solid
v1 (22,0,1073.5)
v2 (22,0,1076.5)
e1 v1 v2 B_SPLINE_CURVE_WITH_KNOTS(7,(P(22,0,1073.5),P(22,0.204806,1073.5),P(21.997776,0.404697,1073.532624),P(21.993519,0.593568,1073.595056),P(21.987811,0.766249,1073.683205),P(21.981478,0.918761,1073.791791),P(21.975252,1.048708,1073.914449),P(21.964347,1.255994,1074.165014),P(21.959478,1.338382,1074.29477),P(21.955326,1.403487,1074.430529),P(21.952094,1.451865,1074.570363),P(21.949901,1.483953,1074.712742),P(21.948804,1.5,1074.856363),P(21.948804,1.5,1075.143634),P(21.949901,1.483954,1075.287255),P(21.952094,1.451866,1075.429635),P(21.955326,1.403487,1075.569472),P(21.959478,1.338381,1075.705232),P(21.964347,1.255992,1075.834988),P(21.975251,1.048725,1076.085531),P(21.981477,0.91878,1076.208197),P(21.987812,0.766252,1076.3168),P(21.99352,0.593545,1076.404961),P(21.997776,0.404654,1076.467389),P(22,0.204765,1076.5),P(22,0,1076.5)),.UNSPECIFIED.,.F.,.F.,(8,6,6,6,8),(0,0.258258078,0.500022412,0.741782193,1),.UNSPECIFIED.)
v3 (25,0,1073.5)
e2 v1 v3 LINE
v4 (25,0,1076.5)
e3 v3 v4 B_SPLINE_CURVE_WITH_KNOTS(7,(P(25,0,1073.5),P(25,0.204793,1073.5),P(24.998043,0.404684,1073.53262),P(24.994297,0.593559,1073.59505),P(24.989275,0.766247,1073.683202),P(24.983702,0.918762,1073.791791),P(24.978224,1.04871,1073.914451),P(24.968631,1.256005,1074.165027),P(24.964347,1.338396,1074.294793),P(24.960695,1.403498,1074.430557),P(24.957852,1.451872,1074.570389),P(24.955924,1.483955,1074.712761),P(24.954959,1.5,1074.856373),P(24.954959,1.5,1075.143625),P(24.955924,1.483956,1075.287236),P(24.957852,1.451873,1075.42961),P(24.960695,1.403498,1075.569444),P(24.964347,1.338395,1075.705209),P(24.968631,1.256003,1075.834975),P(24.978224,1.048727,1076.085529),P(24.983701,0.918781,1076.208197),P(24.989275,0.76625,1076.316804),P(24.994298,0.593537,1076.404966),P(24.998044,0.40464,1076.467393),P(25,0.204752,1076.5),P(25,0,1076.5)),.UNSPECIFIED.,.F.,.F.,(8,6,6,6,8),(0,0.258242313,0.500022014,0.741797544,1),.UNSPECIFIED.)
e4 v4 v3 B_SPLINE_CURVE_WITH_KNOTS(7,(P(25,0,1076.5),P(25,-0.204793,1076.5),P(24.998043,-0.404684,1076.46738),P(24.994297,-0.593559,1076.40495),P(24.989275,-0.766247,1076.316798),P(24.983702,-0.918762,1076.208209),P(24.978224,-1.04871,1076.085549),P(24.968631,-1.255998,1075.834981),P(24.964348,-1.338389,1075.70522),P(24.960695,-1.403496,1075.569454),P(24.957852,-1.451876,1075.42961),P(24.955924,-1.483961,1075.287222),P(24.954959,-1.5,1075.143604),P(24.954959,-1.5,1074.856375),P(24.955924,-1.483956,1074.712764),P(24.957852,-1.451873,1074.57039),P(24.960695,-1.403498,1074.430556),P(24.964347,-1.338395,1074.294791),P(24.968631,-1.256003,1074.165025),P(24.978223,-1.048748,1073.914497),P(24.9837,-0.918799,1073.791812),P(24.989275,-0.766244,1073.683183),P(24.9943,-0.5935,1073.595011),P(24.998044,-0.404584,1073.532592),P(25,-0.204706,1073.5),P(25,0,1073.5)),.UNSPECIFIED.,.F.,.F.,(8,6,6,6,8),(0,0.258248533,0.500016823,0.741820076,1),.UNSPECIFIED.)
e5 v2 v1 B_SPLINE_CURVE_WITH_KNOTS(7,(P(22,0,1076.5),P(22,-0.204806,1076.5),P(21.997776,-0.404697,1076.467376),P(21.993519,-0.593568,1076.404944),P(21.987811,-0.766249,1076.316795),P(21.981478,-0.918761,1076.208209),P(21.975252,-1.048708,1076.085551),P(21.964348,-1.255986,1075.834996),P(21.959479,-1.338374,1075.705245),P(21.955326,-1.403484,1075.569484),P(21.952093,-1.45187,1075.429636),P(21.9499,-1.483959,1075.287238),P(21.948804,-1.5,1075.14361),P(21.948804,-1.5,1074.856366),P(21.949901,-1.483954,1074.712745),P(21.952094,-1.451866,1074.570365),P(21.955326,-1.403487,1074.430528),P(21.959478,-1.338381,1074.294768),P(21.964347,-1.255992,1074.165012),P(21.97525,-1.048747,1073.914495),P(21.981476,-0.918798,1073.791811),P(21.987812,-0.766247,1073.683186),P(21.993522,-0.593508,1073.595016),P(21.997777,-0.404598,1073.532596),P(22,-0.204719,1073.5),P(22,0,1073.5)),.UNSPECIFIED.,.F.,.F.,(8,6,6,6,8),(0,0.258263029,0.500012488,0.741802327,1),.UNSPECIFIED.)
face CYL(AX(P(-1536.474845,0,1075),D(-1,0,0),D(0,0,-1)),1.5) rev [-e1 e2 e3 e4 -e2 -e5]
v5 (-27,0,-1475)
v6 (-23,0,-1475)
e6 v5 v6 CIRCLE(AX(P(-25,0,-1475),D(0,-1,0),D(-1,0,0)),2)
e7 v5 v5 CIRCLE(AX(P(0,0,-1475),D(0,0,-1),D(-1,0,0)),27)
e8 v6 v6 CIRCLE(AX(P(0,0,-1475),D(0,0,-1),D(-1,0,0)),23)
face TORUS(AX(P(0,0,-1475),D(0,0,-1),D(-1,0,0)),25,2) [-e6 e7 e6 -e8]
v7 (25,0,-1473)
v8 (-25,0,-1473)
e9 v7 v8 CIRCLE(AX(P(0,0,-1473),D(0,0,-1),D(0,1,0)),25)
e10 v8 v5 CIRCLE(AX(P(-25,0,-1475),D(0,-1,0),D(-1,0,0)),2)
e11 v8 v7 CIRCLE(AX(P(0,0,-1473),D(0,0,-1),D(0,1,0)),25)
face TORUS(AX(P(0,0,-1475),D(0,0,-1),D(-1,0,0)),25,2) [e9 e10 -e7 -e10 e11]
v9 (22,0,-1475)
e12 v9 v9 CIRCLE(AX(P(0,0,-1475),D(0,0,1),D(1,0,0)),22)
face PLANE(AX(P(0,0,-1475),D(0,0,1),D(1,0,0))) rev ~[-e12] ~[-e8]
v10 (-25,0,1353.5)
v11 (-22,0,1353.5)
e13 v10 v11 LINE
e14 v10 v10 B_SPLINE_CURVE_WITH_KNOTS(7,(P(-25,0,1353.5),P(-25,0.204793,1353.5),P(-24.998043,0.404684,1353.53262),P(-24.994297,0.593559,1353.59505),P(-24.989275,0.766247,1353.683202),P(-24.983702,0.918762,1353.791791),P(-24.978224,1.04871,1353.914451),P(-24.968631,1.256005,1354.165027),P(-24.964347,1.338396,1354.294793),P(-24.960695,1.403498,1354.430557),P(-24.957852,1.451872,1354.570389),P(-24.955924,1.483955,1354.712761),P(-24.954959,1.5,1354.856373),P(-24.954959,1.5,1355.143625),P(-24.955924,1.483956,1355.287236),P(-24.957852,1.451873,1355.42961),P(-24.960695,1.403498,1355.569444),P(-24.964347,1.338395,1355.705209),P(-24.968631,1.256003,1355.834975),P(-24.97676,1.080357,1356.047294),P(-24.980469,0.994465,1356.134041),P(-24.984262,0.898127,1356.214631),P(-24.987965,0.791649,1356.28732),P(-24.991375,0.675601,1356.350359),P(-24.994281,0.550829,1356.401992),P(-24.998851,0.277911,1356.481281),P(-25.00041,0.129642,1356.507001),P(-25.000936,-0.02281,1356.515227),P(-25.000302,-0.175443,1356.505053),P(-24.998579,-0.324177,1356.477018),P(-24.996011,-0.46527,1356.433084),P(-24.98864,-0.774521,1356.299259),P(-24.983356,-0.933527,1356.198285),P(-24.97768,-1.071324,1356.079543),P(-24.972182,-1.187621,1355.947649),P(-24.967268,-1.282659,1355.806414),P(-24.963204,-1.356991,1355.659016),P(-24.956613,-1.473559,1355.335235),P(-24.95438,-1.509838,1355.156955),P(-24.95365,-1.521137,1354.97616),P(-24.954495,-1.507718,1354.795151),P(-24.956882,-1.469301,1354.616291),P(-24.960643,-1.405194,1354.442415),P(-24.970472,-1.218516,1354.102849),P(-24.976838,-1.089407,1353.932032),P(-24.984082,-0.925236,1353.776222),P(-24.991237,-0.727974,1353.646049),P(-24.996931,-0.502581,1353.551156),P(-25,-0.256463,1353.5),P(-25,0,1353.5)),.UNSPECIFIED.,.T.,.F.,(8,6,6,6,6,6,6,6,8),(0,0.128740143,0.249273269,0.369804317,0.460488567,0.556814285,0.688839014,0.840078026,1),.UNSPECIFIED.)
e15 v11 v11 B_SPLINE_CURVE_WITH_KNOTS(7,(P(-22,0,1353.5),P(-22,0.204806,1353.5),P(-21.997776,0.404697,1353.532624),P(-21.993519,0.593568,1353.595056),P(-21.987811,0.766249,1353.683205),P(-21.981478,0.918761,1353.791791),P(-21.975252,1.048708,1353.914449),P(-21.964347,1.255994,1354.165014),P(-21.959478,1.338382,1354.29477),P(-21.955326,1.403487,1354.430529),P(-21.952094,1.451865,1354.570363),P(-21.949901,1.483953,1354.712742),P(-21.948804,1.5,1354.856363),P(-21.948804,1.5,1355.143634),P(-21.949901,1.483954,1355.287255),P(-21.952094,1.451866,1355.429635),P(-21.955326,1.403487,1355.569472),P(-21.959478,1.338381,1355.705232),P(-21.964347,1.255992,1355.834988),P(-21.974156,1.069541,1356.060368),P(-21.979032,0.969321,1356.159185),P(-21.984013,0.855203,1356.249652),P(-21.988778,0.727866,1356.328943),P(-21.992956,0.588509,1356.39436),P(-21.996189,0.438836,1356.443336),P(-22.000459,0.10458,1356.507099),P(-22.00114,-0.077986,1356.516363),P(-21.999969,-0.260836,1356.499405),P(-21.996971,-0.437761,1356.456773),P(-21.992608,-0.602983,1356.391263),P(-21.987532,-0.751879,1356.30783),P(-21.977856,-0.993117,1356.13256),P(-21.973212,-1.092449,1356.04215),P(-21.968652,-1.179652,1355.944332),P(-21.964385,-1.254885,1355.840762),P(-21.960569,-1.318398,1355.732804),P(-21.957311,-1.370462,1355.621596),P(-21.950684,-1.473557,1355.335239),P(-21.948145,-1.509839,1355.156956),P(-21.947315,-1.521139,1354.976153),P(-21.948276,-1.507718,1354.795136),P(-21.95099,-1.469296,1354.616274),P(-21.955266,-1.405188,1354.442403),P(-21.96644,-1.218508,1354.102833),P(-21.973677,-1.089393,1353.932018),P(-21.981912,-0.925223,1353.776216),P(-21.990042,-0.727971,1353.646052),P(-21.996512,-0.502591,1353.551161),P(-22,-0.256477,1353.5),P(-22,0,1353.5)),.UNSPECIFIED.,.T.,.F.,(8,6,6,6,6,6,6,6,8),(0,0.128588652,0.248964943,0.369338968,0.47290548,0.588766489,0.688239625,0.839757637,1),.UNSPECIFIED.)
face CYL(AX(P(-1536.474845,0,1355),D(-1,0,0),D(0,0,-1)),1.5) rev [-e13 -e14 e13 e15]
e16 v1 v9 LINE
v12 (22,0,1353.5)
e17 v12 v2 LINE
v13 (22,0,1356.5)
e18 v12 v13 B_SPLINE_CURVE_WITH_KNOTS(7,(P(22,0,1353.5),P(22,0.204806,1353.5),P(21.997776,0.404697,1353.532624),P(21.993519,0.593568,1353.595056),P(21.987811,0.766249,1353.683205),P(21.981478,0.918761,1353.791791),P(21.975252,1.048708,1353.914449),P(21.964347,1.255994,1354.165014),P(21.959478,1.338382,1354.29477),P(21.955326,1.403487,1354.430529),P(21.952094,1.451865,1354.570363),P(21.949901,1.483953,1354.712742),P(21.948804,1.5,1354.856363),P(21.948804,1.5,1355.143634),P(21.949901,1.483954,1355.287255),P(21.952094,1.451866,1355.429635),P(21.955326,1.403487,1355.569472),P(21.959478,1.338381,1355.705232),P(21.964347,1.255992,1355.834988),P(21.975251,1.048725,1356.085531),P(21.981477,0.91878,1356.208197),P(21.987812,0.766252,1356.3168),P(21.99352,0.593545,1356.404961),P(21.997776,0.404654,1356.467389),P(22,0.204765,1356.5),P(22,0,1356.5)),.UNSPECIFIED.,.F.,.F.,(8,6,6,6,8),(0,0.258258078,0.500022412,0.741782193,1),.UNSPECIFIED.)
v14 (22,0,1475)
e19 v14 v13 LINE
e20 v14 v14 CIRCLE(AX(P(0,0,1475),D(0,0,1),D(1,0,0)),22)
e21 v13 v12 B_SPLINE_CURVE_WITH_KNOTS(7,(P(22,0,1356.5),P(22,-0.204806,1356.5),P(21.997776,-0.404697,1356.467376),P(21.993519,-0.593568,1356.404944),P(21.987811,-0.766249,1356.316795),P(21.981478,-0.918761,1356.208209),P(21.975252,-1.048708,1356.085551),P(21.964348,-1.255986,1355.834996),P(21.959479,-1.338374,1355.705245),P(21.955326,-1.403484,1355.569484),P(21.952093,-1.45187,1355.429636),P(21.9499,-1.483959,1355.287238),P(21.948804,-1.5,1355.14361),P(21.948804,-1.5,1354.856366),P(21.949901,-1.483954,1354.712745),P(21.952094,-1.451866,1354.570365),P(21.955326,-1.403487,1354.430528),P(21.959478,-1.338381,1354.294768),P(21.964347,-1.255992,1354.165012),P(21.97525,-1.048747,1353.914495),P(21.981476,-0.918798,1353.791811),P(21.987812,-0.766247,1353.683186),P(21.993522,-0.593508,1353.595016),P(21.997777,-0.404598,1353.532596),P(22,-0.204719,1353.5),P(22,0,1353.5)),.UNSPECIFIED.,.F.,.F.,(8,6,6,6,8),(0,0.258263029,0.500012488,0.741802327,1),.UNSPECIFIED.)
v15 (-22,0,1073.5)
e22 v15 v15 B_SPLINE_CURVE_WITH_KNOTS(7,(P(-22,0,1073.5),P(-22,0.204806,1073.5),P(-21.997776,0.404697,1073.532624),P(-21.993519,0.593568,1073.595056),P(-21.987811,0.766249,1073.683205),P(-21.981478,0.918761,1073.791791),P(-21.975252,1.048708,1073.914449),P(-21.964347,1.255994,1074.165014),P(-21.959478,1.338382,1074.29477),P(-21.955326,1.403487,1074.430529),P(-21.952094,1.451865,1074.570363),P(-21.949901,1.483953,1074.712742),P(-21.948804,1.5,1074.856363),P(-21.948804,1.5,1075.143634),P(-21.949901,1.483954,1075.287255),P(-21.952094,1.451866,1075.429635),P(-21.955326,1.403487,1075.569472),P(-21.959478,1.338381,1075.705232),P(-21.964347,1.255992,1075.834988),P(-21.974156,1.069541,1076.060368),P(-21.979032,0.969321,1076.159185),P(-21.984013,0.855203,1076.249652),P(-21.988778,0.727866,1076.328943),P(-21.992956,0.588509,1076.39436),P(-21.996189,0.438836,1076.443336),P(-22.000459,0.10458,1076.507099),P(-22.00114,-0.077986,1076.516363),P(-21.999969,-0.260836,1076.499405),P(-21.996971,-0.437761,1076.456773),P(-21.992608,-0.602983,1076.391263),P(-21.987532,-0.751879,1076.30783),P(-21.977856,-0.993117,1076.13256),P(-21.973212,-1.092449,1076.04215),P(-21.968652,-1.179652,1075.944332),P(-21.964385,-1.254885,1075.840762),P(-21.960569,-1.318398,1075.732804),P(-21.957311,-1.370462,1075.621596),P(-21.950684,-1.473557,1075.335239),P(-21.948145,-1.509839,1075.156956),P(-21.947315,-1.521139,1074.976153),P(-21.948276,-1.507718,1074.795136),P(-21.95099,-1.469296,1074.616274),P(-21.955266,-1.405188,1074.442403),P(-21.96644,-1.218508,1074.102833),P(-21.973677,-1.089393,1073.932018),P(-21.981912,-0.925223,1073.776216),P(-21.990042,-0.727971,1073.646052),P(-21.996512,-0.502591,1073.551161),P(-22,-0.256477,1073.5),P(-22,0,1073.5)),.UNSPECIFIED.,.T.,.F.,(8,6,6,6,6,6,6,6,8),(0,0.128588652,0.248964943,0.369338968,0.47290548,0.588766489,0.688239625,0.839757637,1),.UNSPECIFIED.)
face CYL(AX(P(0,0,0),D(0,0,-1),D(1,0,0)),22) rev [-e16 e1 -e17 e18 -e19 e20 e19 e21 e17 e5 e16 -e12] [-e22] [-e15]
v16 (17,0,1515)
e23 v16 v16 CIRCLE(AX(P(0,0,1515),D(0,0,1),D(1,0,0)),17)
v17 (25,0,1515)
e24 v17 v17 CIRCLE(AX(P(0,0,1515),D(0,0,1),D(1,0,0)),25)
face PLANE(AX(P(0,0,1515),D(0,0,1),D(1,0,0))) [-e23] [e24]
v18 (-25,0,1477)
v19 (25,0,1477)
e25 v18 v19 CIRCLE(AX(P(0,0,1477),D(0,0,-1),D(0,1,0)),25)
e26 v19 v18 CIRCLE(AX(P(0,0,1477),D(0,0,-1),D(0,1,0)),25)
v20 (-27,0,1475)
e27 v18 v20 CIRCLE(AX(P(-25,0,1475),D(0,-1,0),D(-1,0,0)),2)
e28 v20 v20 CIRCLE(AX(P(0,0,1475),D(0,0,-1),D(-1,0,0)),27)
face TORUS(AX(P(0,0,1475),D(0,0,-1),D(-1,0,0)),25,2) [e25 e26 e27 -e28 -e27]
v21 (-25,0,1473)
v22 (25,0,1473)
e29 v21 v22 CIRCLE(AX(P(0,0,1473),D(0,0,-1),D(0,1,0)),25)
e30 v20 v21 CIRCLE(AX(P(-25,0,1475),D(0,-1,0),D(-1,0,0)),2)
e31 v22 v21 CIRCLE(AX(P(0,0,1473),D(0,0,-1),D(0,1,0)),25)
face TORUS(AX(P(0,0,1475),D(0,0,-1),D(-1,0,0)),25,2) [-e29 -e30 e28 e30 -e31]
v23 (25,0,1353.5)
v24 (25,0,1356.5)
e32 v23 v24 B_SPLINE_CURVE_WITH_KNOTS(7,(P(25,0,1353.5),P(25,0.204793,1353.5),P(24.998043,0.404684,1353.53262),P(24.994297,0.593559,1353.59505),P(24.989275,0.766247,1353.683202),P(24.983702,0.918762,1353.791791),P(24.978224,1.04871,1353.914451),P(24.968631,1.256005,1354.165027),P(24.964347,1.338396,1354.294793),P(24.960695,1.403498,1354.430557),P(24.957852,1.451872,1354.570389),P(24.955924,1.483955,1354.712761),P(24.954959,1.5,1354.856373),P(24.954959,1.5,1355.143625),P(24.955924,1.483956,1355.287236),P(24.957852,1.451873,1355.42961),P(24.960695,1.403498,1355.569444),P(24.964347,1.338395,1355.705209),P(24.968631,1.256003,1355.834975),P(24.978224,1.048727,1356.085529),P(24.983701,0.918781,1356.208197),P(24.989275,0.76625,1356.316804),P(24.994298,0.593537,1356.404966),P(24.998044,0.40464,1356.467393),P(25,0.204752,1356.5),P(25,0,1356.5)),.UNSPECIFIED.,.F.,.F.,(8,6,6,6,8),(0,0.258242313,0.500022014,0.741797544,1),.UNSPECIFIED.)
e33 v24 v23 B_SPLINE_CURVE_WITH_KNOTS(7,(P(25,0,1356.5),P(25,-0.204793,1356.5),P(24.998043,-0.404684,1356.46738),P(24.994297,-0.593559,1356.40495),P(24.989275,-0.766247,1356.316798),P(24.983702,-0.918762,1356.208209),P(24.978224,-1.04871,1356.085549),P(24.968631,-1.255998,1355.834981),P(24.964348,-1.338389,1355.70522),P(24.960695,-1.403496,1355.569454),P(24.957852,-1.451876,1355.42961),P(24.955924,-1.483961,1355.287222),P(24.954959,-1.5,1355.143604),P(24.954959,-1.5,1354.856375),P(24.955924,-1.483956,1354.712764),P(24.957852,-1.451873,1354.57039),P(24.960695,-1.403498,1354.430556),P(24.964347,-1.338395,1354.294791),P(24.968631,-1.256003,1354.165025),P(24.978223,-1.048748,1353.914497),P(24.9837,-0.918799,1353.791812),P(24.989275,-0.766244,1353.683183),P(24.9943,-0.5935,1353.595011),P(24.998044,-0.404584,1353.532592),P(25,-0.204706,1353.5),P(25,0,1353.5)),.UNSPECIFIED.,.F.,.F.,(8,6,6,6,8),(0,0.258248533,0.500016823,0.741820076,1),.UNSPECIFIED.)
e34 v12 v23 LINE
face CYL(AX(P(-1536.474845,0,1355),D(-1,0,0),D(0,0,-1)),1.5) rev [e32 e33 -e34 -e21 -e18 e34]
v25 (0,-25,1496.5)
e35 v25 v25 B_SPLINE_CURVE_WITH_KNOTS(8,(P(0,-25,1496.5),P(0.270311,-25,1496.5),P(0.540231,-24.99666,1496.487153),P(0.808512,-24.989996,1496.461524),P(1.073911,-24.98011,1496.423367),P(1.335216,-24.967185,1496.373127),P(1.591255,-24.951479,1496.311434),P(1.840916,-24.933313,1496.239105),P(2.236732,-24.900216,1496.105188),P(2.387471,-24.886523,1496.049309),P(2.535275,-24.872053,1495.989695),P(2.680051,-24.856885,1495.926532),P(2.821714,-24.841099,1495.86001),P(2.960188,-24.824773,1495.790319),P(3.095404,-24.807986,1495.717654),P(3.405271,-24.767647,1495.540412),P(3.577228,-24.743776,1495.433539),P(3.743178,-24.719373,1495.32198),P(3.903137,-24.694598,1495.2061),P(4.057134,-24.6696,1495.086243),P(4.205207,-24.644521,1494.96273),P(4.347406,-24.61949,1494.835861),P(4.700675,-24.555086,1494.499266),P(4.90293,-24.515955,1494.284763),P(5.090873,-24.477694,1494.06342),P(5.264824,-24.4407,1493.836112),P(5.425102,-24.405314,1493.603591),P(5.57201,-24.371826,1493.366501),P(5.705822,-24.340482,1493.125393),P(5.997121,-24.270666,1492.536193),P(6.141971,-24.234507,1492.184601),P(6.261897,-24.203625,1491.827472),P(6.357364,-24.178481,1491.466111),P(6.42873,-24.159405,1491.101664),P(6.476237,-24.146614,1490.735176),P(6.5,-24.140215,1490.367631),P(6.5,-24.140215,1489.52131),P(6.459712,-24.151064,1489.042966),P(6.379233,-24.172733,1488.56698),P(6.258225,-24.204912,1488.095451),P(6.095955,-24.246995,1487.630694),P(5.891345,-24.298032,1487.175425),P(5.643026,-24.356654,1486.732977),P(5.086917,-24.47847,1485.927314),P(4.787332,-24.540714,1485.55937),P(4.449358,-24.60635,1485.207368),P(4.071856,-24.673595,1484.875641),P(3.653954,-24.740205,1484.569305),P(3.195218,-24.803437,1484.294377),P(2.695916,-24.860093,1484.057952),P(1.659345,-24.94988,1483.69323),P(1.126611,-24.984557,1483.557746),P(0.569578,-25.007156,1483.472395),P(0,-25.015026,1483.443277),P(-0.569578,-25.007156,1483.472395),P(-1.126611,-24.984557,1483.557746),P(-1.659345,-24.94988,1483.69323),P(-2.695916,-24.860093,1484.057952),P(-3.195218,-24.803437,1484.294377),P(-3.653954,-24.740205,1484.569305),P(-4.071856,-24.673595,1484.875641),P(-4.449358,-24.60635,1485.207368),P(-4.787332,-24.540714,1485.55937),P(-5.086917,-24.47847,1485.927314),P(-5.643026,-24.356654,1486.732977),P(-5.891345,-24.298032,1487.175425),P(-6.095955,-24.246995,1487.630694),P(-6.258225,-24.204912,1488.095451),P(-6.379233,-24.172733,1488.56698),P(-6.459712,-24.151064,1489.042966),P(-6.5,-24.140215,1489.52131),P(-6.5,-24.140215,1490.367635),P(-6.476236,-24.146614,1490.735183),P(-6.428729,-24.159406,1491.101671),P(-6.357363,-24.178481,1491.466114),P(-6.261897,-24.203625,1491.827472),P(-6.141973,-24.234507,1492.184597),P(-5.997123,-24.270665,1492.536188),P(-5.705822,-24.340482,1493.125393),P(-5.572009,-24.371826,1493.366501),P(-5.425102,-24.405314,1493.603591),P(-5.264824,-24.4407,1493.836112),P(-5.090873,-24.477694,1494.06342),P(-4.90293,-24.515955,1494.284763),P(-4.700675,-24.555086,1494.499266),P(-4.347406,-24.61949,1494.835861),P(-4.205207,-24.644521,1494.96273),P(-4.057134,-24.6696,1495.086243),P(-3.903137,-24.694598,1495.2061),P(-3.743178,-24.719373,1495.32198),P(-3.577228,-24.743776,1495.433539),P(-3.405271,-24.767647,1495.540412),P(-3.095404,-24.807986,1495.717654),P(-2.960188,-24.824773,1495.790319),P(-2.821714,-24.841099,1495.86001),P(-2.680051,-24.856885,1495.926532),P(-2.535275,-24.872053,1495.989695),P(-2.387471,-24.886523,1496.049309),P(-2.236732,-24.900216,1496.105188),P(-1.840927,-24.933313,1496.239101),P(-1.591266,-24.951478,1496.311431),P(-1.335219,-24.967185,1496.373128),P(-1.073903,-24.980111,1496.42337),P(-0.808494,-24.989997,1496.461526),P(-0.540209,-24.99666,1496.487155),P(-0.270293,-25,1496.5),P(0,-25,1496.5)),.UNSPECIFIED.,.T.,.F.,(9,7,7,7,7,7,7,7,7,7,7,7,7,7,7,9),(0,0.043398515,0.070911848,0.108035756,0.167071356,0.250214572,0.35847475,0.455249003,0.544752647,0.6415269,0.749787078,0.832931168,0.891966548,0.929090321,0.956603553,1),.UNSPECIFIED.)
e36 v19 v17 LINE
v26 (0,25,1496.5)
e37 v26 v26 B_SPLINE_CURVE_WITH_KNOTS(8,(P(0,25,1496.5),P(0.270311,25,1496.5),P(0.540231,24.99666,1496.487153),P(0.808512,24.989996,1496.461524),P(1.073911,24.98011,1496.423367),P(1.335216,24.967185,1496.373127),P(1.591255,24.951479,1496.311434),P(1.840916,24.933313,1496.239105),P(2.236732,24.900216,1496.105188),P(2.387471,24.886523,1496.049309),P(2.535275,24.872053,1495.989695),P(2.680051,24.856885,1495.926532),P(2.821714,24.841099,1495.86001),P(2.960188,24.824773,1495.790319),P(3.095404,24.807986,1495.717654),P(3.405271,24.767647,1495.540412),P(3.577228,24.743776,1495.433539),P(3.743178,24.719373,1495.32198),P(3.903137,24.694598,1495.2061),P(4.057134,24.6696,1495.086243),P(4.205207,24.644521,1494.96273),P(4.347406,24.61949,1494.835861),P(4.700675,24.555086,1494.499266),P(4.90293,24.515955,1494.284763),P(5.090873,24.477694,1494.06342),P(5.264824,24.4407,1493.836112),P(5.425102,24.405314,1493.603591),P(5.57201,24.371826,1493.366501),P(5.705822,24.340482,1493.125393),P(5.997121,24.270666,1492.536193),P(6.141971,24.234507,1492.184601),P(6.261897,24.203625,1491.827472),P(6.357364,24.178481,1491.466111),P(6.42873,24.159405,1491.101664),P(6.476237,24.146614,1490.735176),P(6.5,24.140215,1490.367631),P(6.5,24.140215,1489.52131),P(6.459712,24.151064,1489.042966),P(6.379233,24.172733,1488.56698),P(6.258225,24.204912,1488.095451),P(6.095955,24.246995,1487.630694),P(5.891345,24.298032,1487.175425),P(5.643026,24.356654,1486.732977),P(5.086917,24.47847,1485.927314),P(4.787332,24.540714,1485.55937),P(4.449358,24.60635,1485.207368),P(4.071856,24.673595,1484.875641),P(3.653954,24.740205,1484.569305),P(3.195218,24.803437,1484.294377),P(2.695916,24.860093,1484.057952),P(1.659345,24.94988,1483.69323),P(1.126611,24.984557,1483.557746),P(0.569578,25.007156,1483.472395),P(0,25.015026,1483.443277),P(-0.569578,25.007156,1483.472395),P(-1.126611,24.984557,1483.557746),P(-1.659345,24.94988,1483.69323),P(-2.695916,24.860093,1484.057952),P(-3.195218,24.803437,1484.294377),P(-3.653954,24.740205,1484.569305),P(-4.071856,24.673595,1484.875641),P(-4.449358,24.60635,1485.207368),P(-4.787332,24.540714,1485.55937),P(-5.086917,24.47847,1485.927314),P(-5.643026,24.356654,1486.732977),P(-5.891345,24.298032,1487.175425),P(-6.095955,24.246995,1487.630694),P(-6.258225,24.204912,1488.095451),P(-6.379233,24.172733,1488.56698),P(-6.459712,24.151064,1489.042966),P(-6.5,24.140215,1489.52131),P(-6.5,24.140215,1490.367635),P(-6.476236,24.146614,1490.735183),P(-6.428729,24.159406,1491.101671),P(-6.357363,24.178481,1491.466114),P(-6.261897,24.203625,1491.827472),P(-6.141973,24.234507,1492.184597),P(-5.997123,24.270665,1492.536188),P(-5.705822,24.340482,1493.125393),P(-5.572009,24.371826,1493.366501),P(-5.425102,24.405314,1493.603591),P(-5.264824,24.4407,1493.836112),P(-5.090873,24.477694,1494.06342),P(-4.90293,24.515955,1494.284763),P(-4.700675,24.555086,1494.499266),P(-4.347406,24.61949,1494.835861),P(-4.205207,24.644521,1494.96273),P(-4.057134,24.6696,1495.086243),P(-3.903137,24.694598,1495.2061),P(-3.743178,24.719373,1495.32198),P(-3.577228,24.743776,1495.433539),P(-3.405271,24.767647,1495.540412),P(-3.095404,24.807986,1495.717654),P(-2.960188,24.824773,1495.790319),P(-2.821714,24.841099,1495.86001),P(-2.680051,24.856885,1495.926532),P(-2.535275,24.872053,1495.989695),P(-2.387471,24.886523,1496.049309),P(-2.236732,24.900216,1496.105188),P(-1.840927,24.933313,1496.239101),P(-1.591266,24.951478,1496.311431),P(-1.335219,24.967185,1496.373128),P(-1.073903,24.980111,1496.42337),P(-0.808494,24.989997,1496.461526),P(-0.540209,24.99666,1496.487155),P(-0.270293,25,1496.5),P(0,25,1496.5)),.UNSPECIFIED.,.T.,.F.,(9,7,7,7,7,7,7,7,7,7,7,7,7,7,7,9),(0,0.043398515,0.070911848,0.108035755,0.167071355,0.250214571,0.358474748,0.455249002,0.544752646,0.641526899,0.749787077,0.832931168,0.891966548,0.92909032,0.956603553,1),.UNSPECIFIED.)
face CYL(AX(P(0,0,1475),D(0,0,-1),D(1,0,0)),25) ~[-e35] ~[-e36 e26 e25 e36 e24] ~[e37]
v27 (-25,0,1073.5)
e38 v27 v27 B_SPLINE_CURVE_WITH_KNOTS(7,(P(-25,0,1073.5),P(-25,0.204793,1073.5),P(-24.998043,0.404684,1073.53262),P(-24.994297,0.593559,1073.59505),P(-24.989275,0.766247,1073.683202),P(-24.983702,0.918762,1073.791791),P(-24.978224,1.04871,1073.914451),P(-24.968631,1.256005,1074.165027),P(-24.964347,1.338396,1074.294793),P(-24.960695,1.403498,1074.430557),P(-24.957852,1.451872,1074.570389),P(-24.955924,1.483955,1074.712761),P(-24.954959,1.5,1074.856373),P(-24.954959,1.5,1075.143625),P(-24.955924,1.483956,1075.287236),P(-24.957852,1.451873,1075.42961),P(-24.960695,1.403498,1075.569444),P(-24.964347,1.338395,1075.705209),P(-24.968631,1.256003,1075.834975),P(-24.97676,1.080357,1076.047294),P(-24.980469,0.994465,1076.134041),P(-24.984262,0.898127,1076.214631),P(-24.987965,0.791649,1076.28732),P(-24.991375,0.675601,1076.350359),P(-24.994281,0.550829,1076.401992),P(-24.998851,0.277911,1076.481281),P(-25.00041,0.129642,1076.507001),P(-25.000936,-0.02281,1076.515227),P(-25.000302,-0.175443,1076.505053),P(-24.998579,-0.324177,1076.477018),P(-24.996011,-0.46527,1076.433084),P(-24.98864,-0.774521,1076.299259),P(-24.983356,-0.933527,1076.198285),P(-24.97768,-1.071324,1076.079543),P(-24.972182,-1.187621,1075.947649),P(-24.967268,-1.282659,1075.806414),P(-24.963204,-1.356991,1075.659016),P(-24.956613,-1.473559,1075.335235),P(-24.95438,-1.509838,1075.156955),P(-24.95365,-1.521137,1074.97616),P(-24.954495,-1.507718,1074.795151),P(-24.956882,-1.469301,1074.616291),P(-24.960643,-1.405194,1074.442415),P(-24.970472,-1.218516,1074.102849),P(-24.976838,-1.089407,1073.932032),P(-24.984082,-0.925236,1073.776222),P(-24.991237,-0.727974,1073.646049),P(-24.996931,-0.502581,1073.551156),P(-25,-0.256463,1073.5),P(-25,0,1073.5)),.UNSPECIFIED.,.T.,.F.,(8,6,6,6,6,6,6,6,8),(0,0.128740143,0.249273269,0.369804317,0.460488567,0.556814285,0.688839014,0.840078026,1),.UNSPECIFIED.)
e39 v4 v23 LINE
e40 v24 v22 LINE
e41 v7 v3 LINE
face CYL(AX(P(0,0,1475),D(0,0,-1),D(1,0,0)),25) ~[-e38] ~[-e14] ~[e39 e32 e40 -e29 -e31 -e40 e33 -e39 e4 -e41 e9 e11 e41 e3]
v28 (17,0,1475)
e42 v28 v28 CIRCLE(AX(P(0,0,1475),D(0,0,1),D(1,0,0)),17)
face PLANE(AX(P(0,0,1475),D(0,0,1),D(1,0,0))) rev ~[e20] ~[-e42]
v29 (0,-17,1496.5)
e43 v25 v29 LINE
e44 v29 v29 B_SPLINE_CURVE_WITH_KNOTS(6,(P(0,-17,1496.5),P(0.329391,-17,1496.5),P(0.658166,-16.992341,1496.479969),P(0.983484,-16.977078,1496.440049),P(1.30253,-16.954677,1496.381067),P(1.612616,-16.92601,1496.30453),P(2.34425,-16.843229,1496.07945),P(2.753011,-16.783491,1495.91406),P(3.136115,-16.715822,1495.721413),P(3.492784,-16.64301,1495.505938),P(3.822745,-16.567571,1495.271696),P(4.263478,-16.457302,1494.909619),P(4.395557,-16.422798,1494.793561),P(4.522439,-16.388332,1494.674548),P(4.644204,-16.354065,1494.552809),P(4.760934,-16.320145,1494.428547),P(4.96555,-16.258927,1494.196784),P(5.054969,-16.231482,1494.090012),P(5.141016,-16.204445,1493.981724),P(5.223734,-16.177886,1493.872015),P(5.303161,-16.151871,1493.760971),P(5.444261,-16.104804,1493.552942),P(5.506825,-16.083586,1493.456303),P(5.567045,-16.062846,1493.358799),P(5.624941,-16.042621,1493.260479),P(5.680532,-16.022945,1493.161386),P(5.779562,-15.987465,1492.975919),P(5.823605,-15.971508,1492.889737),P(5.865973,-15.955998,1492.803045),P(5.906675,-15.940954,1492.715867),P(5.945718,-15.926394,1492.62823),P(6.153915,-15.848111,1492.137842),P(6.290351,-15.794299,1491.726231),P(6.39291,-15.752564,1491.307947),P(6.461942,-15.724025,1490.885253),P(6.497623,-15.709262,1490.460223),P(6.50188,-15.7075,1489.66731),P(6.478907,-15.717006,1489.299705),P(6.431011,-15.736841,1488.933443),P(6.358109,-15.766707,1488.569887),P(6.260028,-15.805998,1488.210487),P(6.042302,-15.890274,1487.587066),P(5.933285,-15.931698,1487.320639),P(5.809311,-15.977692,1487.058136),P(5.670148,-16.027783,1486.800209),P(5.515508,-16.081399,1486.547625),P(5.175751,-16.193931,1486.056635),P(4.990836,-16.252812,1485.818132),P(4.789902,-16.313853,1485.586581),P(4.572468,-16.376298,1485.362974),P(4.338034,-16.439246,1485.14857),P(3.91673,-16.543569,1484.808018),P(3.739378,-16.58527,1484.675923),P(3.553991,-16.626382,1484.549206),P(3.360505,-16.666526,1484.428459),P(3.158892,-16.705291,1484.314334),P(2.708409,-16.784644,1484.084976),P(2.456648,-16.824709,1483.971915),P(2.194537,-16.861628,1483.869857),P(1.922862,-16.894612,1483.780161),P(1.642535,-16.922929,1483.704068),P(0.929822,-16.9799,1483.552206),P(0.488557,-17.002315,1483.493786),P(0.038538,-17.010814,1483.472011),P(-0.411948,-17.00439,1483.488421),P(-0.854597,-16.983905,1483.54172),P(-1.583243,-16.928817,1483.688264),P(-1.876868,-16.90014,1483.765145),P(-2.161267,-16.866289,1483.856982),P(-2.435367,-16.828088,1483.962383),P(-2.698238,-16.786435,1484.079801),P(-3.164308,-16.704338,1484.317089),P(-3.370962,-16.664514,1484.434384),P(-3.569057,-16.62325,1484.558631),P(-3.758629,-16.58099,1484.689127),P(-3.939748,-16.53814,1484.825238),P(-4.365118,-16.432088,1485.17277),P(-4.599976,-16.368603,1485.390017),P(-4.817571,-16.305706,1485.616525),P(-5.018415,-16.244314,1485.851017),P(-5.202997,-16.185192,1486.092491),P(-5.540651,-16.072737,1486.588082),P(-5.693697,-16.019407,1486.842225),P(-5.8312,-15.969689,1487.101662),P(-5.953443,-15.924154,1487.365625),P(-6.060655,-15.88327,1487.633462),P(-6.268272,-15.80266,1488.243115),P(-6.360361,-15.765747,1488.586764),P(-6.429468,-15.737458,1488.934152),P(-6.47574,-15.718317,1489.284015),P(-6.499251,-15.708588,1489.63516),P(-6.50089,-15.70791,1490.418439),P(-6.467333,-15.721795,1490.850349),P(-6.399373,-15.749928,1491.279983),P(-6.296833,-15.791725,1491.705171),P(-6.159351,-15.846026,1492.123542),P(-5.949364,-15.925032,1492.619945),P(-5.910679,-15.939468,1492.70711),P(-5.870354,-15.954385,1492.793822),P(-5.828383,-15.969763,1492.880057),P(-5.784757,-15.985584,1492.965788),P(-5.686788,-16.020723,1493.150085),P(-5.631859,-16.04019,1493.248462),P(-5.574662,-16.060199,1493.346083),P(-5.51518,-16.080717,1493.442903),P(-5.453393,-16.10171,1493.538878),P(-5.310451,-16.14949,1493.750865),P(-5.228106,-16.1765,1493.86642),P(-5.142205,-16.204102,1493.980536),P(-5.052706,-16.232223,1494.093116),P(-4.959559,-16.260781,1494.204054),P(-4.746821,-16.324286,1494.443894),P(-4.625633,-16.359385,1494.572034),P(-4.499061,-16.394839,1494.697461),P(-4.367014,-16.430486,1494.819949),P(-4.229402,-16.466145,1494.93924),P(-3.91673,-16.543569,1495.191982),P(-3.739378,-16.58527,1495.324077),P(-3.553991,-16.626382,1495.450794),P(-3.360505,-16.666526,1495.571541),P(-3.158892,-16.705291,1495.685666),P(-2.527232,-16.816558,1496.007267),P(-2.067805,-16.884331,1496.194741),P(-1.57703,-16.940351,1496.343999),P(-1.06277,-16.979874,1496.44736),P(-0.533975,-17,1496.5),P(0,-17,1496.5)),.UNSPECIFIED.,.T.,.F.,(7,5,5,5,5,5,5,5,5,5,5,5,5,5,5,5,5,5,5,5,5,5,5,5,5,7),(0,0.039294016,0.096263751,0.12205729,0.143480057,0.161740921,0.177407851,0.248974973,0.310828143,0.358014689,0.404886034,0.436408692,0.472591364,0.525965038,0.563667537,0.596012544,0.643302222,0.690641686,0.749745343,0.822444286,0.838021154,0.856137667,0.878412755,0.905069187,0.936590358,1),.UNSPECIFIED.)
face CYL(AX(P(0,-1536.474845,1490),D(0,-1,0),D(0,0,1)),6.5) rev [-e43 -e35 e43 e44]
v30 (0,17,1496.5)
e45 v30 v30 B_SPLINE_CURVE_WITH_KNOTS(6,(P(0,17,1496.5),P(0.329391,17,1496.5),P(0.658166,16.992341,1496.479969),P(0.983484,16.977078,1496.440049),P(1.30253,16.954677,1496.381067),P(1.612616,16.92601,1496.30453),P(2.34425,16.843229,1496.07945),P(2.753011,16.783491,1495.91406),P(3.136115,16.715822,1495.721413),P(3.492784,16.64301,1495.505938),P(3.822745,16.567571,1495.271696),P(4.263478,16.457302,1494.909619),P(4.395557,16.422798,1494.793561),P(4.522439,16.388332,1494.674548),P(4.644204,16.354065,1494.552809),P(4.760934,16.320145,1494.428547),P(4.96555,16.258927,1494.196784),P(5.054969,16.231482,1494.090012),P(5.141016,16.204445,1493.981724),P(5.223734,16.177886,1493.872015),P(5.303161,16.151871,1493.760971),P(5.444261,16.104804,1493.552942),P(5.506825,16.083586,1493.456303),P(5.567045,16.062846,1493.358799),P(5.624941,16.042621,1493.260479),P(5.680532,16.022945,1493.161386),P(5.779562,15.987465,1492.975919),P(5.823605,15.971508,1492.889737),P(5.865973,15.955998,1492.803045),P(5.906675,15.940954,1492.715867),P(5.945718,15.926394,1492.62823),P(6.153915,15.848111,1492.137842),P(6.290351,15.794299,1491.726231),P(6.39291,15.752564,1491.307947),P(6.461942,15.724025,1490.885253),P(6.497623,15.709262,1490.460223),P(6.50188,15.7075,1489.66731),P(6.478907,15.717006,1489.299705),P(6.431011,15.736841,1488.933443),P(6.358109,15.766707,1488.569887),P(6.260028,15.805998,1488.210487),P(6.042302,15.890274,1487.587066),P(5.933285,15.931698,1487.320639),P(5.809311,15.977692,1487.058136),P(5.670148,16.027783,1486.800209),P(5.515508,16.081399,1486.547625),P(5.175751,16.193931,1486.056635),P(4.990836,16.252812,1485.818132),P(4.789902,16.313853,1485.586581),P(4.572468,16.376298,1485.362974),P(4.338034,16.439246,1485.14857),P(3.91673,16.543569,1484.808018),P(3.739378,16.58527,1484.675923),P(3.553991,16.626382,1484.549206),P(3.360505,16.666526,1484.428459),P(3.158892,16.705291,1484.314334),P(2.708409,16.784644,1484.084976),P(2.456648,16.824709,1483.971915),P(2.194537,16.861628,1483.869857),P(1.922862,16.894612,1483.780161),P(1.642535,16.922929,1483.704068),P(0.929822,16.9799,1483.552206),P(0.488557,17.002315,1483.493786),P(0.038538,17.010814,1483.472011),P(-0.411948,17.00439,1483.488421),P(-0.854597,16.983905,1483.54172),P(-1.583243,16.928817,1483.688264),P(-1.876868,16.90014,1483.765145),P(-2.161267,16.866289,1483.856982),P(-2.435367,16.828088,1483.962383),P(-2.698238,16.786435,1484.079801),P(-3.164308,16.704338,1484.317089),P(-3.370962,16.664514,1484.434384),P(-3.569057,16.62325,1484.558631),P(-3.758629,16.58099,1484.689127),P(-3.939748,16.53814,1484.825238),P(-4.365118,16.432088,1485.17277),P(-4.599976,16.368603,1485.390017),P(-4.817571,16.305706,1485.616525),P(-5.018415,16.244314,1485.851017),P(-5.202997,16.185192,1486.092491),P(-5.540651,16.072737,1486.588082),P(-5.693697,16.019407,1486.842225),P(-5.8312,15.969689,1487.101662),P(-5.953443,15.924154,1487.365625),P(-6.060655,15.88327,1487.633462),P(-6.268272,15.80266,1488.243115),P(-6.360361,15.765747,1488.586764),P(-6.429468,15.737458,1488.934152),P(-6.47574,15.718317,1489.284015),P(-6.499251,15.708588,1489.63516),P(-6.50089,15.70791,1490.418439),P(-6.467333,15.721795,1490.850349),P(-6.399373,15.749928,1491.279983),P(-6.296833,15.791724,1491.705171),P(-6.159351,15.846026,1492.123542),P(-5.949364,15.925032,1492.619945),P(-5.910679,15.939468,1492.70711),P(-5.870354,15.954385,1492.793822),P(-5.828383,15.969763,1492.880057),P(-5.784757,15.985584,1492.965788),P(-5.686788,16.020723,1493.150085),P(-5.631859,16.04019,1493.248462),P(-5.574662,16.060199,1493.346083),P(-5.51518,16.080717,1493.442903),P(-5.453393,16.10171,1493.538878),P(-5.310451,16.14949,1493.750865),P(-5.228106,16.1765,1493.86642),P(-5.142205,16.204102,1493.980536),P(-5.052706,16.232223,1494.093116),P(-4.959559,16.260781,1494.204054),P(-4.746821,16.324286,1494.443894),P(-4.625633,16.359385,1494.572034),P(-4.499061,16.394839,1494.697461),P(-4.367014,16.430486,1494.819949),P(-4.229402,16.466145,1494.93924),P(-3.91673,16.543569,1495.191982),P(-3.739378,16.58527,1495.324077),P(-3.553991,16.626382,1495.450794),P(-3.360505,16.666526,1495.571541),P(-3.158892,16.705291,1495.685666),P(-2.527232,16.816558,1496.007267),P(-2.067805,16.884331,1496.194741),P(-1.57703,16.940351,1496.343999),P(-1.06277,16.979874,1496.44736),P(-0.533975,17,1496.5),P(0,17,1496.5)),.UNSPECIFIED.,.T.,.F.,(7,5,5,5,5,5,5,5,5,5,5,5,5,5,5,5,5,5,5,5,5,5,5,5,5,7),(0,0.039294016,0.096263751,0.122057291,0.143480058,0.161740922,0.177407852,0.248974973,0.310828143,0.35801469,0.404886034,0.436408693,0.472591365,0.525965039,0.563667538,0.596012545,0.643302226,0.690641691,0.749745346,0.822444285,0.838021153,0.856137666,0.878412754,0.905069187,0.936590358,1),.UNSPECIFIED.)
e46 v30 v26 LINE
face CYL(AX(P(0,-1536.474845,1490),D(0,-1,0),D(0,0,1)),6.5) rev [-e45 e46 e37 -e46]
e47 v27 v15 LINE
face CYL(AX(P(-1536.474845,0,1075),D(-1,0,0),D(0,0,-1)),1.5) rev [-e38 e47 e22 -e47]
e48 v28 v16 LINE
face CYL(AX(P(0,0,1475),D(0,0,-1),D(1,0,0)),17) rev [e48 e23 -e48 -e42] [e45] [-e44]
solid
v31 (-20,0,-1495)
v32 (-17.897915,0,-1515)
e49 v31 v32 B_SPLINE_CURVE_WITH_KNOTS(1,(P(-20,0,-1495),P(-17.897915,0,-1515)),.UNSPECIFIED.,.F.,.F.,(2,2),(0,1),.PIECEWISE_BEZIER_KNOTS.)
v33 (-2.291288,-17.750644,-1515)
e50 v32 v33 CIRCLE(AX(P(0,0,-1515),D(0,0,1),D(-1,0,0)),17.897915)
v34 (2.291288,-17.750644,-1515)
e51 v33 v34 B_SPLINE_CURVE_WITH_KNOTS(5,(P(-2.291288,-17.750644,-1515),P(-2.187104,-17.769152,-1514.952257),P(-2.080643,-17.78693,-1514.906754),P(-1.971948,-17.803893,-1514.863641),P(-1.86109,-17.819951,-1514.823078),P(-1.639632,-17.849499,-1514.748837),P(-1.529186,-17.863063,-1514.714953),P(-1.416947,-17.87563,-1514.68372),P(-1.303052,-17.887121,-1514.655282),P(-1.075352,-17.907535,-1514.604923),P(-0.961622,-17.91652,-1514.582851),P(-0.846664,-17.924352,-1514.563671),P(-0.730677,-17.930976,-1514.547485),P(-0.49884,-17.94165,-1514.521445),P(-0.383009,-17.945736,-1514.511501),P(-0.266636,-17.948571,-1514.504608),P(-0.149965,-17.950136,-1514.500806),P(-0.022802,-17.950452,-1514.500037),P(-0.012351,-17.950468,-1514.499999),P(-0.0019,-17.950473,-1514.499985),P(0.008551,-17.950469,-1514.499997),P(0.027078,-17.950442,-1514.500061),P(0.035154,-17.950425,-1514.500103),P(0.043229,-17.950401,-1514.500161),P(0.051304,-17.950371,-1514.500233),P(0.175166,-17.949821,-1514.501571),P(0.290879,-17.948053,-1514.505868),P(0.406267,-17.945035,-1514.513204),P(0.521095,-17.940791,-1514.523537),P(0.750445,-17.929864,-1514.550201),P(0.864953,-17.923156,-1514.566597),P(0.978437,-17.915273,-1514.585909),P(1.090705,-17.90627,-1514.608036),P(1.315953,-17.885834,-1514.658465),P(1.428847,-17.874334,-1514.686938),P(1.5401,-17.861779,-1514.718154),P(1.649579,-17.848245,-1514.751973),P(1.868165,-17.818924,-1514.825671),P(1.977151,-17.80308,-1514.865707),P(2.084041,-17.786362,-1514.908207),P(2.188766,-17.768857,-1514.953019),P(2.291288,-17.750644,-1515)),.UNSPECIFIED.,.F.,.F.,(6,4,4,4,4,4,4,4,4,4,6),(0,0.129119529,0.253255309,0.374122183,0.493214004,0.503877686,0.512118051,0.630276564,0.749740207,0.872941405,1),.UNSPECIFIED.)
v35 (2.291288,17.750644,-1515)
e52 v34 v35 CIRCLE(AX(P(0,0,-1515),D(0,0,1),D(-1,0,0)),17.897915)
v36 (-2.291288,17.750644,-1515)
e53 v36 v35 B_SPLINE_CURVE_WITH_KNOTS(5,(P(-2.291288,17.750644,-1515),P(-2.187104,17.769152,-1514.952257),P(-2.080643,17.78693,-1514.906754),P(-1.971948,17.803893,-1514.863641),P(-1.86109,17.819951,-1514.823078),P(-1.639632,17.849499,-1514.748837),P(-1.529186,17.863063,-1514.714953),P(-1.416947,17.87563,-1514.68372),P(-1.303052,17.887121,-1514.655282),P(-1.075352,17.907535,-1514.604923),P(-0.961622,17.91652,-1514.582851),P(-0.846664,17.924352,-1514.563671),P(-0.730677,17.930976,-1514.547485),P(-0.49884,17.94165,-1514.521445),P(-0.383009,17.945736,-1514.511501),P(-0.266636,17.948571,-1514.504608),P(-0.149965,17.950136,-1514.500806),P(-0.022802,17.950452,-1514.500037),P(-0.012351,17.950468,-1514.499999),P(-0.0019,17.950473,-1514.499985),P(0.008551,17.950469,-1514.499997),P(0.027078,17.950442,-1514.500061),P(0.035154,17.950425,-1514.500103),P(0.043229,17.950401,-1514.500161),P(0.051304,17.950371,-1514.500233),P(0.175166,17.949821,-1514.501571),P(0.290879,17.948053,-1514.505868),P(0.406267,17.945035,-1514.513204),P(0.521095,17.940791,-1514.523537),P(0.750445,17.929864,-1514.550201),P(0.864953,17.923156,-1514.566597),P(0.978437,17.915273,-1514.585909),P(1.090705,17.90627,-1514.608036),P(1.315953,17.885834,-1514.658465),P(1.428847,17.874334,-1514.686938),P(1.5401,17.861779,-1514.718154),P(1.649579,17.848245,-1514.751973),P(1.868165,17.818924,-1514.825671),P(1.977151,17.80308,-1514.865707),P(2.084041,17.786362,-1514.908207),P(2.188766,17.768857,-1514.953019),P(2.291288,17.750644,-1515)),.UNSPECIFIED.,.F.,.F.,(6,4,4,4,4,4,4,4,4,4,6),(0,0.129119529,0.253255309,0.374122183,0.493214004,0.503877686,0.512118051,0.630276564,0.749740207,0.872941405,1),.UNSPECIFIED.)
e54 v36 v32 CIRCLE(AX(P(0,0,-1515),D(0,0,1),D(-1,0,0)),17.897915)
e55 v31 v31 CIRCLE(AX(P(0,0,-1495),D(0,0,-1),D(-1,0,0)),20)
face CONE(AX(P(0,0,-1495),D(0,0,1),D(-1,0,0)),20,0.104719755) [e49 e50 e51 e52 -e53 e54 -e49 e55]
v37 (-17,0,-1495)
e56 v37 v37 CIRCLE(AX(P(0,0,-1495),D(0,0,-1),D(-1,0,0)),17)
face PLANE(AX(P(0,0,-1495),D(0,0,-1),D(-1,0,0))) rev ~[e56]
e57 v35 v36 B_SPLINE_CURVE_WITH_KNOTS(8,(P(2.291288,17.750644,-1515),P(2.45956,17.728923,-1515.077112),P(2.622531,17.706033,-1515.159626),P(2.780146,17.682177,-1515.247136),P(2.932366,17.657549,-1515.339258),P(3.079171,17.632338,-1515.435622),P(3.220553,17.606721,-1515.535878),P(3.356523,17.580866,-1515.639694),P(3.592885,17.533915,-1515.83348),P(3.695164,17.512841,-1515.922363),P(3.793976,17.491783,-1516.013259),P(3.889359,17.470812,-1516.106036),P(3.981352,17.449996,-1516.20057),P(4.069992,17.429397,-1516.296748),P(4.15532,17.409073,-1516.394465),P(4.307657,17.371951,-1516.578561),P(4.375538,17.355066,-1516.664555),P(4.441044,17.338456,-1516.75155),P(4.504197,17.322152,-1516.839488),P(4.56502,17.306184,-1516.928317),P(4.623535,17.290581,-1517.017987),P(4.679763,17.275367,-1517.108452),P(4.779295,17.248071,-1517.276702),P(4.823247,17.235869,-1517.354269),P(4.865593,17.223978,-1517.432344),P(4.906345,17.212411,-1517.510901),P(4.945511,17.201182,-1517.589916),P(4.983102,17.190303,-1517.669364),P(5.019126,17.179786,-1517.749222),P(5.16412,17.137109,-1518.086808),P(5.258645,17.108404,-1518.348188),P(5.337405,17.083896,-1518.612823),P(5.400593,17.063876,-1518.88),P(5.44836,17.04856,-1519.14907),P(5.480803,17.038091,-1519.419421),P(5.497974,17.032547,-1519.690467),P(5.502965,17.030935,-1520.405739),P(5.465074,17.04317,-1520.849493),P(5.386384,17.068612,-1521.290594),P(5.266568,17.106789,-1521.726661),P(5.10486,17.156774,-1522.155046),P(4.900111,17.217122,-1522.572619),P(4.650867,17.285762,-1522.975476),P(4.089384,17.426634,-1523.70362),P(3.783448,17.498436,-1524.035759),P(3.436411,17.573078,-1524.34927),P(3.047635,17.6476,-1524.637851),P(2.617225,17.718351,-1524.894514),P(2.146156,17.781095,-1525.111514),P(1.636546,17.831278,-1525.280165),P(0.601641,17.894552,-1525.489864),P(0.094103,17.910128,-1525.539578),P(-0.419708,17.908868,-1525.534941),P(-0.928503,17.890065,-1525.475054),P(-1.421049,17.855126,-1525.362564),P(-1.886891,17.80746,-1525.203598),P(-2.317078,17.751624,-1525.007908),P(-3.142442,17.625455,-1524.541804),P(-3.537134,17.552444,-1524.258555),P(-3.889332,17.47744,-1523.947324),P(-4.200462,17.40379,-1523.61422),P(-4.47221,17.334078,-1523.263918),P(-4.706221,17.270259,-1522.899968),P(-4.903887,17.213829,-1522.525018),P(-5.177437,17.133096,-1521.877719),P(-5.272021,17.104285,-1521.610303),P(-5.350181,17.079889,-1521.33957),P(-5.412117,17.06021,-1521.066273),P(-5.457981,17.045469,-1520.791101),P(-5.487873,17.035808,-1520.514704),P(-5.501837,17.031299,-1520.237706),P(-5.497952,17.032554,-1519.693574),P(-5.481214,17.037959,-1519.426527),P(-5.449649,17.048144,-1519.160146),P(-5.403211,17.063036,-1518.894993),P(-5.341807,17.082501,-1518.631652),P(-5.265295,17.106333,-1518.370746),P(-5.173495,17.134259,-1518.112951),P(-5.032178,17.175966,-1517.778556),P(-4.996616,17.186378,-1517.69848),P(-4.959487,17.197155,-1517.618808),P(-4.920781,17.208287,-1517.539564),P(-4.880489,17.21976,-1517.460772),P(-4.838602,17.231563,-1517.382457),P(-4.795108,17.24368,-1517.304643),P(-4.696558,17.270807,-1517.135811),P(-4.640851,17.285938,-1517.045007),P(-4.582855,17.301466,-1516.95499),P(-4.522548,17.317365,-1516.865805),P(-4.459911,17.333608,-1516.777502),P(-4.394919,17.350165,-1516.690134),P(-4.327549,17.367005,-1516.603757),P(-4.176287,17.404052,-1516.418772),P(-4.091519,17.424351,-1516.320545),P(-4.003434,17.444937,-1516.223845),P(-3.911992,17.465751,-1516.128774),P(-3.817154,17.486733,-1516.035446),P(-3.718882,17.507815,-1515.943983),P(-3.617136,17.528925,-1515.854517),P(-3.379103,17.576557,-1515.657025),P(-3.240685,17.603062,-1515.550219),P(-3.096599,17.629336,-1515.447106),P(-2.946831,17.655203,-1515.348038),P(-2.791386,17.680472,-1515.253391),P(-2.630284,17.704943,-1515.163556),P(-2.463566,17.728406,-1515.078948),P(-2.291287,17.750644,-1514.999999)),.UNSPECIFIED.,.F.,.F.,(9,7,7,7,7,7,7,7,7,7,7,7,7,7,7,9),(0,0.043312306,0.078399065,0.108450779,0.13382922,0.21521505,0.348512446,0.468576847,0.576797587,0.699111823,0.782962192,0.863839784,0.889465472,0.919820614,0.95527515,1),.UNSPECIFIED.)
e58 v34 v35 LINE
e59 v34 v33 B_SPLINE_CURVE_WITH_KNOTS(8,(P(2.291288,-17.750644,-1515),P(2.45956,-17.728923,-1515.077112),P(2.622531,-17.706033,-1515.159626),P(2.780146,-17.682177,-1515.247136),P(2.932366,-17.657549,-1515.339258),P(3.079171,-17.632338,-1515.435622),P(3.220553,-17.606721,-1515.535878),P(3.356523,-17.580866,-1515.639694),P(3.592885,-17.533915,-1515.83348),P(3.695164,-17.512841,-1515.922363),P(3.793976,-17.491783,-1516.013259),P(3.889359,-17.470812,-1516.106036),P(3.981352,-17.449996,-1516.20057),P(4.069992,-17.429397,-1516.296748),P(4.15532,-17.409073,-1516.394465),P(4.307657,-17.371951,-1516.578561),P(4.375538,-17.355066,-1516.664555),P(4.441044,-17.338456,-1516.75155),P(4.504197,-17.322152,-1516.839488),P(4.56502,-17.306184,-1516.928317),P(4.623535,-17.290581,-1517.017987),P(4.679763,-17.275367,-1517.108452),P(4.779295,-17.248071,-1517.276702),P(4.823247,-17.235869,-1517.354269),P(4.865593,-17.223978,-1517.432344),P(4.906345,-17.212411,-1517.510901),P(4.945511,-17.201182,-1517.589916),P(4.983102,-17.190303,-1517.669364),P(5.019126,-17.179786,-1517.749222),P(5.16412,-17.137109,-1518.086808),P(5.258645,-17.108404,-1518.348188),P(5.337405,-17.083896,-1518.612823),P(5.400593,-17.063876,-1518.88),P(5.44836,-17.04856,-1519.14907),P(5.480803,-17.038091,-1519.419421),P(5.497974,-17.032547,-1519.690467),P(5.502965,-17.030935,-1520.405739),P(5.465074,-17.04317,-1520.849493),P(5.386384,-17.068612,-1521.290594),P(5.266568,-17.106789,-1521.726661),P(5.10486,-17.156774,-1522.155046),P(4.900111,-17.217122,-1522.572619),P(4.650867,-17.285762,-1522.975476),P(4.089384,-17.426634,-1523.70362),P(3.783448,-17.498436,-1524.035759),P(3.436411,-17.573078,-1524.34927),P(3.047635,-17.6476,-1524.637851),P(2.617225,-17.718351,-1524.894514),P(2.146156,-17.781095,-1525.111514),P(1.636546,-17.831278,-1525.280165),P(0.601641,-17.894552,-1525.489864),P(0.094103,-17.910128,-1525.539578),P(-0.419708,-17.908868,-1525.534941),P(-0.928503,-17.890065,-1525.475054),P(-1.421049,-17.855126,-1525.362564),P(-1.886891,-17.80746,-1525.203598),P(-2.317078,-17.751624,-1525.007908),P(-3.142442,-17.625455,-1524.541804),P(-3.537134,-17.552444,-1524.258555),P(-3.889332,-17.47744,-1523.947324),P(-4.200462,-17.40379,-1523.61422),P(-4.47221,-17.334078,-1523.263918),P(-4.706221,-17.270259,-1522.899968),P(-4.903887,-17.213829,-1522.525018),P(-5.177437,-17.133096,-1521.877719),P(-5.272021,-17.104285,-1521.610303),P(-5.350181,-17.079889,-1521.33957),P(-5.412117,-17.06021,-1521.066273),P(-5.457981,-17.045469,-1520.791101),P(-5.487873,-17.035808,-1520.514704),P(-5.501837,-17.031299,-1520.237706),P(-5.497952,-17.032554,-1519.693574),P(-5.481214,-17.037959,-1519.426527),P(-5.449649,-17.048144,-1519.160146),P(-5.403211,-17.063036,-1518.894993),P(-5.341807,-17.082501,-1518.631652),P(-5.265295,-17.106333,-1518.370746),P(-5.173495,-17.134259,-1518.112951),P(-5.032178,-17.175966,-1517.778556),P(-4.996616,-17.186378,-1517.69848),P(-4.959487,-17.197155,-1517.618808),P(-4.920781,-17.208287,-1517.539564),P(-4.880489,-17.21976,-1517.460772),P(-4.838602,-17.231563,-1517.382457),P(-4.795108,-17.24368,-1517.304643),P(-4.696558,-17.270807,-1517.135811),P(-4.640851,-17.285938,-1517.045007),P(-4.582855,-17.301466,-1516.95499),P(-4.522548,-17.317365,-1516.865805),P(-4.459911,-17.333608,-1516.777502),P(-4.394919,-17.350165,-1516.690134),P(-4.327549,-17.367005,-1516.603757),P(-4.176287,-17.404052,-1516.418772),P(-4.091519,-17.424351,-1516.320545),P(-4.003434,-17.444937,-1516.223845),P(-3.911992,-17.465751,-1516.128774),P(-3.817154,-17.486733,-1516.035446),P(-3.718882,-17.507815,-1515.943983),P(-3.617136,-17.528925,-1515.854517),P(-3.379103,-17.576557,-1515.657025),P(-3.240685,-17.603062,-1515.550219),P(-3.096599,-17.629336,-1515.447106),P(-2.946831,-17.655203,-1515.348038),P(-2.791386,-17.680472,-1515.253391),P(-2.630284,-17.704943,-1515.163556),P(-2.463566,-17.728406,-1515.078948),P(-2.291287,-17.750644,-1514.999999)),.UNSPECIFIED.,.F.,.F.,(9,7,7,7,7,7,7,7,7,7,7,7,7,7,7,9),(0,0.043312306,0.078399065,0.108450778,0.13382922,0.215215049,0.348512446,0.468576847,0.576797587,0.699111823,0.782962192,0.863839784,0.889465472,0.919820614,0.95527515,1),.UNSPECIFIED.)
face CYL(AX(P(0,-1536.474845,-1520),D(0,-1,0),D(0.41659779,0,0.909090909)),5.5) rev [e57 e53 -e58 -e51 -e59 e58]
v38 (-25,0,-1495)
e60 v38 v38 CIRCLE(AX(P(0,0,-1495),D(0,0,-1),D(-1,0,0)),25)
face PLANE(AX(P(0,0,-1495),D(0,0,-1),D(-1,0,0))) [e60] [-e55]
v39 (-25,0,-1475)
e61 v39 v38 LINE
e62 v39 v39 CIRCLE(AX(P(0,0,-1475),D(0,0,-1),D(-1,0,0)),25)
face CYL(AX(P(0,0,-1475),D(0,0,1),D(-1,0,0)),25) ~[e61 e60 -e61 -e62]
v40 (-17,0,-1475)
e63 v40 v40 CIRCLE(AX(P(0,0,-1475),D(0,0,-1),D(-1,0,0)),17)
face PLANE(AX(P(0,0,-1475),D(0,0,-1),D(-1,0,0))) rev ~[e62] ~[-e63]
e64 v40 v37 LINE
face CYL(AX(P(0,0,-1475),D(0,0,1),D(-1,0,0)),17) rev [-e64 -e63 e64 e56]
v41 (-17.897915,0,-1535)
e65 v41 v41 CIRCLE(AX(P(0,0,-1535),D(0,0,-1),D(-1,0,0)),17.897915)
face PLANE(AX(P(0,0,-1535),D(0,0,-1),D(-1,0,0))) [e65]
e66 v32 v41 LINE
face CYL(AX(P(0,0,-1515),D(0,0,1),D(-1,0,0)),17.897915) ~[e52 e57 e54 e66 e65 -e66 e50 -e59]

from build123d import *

# Parameters (mm, degrees)
SKETCH1_R               = 25
SKETCH1_R_2             = 22
EXTRUDE_THIN1_DEPTH     = 1475
SKETCH2_R               = 25
SKETCH2_R_2             = 17
EXTRUDE_THIN2_DEPTH     = 40
SKETCH4_R               = 25
SKETCH4_R_2             = 17
EXTRUDE_THIN3_DEPTH     = 20
SKETCH3_R               = 2
SKETCH5_R               = 20
BOSS_EXTRUDE1_DEPTH     = 20
BOSS_EXTRUDE1_TAPER     = 6
SKETCH7_R               = 17.897915295
BOSS_EXTRUDE2_DEPTH     = 20
CUT_EXTRUDE1_DEPTH      = 1536.474845125
CUT_EXTRUDE1_DEPTH_BACK = 1536.474845125
SKETCH6_R               = 6.5
SKETCH6_R_2             = 5.5
CUT_EXTRUDE2_DEPTH      = 1536.474845225
CUT_EXTRUDE2_DEPTH_BACK = 1536.474845225
SKETCH9_R               = 1.5


with BuildPart() as part:
    # Sketch1 → Extrude-Thin1 (new, symmetric)
    with BuildSketch(Plane.XY):
        Circle(SKETCH1_R)
        Circle(SKETCH1_R_2, mode=Mode.SUBTRACT)
    extrude(amount=EXTRUDE_THIN1_DEPTH, both=True)



with BuildPart() as body_2:
    # Sketch2 → Extrude-Thin2 (new body)
    with BuildSketch(Plane.XY.offset(1475)):
        Circle(SKETCH2_R)
        Circle(SKETCH2_R_2, mode=Mode.SUBTRACT)
    extrude(amount=EXTRUDE_THIN2_DEPTH)


with BuildPart() as body_3:
    # Sketch4 → Extrude-Thin3 (new body)
    with BuildSketch(Plane(origin=(0, 0, -1475), x_dir=(-1, 0, 0), z_dir=(0, 0, -1))):
        Circle(SKETCH4_R)
        Circle(SKETCH4_R_2, mode=Mode.SUBTRACT)
    extrude(amount=EXTRUDE_THIN3_DEPTH)

    # Sketch5 → Boss-Extrude1 (add)
    with BuildSketch(Plane(origin=(0, 0, -1495), x_dir=(-1, 0, 0), z_dir=(0, 0, -1))):
        Circle(SKETCH5_R)
    extrude(amount=BOSS_EXTRUDE1_DEPTH, taper=BOSS_EXTRUDE1_TAPER)

    # Sketch7 → Boss-Extrude2 (add)
    with BuildSketch(Plane(origin=(0, 0, -1515), x_dir=(-1, 0, 0), z_dir=(0, 0, -1))):
        Circle(SKETCH7_R)
    extrude(amount=BOSS_EXTRUDE2_DEPTH)


with BuildPart() as part_1:
    add(part.part)

    add(body_2.part)  # Revolve1 merges body 2
    # Sketch3 → Revolve1 (revolve)
    with BuildSketch(Plane(origin=(0, 0, 0), x_dir=(1, 0, 0), z_dir=(0, 1, 0))):
        with Locations((25, -1475)):
            Circle(SKETCH3_R)
        with Locations((25, 1475)):
            Circle(SKETCH3_R)
    revolve(axis=Axis((0, 0, 1515), (0, 0, -1)))


with BuildPart() as cut_extrude1_tool:
    # Sketch6 → Cut-Extrude1 (new, two sides: drawn at the far end of the back side and taken through both)
    with BuildSketch(Plane(origin=(0, 0, 0), x_dir=(1, 0, 0), z_dir=(0, 1, 0)).offset(-CUT_EXTRUDE1_DEPTH_BACK)):
        with Locations((0, -1490)):
            Circle(SKETCH6_R)
        with Locations((0, 1520)):
            Circle(SKETCH6_R_2)
    extrude(amount=CUT_EXTRUDE1_DEPTH + CUT_EXTRUDE1_DEPTH_BACK)


with BuildPart() as part_2:
    add(part_1.part)

    # Cut-Extrude1: cut by cut_extrude1_tool
    add(cut_extrude1_tool.part, mode=Mode.SUBTRACT)

    # Sketch9 → Cut-Extrude2 (cut, two sides: drawn at the far end of the back side and taken through both)
    with BuildSketch(Plane(origin=(0, 0, 0), x_dir=(0, 0, -1), z_dir=(1, 0, 0)).offset(-CUT_EXTRUDE2_DEPTH_BACK)):
        with Locations((-1355, 0)):
            Circle(SKETCH9_R)
        with Locations((-1075, 0)):
            Circle(SKETCH9_R)
    extrude(amount=CUT_EXTRUDE2_DEPTH + CUT_EXTRUDE2_DEPTH_BACK, mode=Mode.SUBTRACT)


with BuildPart() as body_3_1:
    add(body_3.part)

    # Cut-Extrude1: cut by cut_extrude1_tool
    add(cut_extrude1_tool.part, mode=Mode.SUBTRACT)


solid = Compound([part_2.part, body_3_1.part])
